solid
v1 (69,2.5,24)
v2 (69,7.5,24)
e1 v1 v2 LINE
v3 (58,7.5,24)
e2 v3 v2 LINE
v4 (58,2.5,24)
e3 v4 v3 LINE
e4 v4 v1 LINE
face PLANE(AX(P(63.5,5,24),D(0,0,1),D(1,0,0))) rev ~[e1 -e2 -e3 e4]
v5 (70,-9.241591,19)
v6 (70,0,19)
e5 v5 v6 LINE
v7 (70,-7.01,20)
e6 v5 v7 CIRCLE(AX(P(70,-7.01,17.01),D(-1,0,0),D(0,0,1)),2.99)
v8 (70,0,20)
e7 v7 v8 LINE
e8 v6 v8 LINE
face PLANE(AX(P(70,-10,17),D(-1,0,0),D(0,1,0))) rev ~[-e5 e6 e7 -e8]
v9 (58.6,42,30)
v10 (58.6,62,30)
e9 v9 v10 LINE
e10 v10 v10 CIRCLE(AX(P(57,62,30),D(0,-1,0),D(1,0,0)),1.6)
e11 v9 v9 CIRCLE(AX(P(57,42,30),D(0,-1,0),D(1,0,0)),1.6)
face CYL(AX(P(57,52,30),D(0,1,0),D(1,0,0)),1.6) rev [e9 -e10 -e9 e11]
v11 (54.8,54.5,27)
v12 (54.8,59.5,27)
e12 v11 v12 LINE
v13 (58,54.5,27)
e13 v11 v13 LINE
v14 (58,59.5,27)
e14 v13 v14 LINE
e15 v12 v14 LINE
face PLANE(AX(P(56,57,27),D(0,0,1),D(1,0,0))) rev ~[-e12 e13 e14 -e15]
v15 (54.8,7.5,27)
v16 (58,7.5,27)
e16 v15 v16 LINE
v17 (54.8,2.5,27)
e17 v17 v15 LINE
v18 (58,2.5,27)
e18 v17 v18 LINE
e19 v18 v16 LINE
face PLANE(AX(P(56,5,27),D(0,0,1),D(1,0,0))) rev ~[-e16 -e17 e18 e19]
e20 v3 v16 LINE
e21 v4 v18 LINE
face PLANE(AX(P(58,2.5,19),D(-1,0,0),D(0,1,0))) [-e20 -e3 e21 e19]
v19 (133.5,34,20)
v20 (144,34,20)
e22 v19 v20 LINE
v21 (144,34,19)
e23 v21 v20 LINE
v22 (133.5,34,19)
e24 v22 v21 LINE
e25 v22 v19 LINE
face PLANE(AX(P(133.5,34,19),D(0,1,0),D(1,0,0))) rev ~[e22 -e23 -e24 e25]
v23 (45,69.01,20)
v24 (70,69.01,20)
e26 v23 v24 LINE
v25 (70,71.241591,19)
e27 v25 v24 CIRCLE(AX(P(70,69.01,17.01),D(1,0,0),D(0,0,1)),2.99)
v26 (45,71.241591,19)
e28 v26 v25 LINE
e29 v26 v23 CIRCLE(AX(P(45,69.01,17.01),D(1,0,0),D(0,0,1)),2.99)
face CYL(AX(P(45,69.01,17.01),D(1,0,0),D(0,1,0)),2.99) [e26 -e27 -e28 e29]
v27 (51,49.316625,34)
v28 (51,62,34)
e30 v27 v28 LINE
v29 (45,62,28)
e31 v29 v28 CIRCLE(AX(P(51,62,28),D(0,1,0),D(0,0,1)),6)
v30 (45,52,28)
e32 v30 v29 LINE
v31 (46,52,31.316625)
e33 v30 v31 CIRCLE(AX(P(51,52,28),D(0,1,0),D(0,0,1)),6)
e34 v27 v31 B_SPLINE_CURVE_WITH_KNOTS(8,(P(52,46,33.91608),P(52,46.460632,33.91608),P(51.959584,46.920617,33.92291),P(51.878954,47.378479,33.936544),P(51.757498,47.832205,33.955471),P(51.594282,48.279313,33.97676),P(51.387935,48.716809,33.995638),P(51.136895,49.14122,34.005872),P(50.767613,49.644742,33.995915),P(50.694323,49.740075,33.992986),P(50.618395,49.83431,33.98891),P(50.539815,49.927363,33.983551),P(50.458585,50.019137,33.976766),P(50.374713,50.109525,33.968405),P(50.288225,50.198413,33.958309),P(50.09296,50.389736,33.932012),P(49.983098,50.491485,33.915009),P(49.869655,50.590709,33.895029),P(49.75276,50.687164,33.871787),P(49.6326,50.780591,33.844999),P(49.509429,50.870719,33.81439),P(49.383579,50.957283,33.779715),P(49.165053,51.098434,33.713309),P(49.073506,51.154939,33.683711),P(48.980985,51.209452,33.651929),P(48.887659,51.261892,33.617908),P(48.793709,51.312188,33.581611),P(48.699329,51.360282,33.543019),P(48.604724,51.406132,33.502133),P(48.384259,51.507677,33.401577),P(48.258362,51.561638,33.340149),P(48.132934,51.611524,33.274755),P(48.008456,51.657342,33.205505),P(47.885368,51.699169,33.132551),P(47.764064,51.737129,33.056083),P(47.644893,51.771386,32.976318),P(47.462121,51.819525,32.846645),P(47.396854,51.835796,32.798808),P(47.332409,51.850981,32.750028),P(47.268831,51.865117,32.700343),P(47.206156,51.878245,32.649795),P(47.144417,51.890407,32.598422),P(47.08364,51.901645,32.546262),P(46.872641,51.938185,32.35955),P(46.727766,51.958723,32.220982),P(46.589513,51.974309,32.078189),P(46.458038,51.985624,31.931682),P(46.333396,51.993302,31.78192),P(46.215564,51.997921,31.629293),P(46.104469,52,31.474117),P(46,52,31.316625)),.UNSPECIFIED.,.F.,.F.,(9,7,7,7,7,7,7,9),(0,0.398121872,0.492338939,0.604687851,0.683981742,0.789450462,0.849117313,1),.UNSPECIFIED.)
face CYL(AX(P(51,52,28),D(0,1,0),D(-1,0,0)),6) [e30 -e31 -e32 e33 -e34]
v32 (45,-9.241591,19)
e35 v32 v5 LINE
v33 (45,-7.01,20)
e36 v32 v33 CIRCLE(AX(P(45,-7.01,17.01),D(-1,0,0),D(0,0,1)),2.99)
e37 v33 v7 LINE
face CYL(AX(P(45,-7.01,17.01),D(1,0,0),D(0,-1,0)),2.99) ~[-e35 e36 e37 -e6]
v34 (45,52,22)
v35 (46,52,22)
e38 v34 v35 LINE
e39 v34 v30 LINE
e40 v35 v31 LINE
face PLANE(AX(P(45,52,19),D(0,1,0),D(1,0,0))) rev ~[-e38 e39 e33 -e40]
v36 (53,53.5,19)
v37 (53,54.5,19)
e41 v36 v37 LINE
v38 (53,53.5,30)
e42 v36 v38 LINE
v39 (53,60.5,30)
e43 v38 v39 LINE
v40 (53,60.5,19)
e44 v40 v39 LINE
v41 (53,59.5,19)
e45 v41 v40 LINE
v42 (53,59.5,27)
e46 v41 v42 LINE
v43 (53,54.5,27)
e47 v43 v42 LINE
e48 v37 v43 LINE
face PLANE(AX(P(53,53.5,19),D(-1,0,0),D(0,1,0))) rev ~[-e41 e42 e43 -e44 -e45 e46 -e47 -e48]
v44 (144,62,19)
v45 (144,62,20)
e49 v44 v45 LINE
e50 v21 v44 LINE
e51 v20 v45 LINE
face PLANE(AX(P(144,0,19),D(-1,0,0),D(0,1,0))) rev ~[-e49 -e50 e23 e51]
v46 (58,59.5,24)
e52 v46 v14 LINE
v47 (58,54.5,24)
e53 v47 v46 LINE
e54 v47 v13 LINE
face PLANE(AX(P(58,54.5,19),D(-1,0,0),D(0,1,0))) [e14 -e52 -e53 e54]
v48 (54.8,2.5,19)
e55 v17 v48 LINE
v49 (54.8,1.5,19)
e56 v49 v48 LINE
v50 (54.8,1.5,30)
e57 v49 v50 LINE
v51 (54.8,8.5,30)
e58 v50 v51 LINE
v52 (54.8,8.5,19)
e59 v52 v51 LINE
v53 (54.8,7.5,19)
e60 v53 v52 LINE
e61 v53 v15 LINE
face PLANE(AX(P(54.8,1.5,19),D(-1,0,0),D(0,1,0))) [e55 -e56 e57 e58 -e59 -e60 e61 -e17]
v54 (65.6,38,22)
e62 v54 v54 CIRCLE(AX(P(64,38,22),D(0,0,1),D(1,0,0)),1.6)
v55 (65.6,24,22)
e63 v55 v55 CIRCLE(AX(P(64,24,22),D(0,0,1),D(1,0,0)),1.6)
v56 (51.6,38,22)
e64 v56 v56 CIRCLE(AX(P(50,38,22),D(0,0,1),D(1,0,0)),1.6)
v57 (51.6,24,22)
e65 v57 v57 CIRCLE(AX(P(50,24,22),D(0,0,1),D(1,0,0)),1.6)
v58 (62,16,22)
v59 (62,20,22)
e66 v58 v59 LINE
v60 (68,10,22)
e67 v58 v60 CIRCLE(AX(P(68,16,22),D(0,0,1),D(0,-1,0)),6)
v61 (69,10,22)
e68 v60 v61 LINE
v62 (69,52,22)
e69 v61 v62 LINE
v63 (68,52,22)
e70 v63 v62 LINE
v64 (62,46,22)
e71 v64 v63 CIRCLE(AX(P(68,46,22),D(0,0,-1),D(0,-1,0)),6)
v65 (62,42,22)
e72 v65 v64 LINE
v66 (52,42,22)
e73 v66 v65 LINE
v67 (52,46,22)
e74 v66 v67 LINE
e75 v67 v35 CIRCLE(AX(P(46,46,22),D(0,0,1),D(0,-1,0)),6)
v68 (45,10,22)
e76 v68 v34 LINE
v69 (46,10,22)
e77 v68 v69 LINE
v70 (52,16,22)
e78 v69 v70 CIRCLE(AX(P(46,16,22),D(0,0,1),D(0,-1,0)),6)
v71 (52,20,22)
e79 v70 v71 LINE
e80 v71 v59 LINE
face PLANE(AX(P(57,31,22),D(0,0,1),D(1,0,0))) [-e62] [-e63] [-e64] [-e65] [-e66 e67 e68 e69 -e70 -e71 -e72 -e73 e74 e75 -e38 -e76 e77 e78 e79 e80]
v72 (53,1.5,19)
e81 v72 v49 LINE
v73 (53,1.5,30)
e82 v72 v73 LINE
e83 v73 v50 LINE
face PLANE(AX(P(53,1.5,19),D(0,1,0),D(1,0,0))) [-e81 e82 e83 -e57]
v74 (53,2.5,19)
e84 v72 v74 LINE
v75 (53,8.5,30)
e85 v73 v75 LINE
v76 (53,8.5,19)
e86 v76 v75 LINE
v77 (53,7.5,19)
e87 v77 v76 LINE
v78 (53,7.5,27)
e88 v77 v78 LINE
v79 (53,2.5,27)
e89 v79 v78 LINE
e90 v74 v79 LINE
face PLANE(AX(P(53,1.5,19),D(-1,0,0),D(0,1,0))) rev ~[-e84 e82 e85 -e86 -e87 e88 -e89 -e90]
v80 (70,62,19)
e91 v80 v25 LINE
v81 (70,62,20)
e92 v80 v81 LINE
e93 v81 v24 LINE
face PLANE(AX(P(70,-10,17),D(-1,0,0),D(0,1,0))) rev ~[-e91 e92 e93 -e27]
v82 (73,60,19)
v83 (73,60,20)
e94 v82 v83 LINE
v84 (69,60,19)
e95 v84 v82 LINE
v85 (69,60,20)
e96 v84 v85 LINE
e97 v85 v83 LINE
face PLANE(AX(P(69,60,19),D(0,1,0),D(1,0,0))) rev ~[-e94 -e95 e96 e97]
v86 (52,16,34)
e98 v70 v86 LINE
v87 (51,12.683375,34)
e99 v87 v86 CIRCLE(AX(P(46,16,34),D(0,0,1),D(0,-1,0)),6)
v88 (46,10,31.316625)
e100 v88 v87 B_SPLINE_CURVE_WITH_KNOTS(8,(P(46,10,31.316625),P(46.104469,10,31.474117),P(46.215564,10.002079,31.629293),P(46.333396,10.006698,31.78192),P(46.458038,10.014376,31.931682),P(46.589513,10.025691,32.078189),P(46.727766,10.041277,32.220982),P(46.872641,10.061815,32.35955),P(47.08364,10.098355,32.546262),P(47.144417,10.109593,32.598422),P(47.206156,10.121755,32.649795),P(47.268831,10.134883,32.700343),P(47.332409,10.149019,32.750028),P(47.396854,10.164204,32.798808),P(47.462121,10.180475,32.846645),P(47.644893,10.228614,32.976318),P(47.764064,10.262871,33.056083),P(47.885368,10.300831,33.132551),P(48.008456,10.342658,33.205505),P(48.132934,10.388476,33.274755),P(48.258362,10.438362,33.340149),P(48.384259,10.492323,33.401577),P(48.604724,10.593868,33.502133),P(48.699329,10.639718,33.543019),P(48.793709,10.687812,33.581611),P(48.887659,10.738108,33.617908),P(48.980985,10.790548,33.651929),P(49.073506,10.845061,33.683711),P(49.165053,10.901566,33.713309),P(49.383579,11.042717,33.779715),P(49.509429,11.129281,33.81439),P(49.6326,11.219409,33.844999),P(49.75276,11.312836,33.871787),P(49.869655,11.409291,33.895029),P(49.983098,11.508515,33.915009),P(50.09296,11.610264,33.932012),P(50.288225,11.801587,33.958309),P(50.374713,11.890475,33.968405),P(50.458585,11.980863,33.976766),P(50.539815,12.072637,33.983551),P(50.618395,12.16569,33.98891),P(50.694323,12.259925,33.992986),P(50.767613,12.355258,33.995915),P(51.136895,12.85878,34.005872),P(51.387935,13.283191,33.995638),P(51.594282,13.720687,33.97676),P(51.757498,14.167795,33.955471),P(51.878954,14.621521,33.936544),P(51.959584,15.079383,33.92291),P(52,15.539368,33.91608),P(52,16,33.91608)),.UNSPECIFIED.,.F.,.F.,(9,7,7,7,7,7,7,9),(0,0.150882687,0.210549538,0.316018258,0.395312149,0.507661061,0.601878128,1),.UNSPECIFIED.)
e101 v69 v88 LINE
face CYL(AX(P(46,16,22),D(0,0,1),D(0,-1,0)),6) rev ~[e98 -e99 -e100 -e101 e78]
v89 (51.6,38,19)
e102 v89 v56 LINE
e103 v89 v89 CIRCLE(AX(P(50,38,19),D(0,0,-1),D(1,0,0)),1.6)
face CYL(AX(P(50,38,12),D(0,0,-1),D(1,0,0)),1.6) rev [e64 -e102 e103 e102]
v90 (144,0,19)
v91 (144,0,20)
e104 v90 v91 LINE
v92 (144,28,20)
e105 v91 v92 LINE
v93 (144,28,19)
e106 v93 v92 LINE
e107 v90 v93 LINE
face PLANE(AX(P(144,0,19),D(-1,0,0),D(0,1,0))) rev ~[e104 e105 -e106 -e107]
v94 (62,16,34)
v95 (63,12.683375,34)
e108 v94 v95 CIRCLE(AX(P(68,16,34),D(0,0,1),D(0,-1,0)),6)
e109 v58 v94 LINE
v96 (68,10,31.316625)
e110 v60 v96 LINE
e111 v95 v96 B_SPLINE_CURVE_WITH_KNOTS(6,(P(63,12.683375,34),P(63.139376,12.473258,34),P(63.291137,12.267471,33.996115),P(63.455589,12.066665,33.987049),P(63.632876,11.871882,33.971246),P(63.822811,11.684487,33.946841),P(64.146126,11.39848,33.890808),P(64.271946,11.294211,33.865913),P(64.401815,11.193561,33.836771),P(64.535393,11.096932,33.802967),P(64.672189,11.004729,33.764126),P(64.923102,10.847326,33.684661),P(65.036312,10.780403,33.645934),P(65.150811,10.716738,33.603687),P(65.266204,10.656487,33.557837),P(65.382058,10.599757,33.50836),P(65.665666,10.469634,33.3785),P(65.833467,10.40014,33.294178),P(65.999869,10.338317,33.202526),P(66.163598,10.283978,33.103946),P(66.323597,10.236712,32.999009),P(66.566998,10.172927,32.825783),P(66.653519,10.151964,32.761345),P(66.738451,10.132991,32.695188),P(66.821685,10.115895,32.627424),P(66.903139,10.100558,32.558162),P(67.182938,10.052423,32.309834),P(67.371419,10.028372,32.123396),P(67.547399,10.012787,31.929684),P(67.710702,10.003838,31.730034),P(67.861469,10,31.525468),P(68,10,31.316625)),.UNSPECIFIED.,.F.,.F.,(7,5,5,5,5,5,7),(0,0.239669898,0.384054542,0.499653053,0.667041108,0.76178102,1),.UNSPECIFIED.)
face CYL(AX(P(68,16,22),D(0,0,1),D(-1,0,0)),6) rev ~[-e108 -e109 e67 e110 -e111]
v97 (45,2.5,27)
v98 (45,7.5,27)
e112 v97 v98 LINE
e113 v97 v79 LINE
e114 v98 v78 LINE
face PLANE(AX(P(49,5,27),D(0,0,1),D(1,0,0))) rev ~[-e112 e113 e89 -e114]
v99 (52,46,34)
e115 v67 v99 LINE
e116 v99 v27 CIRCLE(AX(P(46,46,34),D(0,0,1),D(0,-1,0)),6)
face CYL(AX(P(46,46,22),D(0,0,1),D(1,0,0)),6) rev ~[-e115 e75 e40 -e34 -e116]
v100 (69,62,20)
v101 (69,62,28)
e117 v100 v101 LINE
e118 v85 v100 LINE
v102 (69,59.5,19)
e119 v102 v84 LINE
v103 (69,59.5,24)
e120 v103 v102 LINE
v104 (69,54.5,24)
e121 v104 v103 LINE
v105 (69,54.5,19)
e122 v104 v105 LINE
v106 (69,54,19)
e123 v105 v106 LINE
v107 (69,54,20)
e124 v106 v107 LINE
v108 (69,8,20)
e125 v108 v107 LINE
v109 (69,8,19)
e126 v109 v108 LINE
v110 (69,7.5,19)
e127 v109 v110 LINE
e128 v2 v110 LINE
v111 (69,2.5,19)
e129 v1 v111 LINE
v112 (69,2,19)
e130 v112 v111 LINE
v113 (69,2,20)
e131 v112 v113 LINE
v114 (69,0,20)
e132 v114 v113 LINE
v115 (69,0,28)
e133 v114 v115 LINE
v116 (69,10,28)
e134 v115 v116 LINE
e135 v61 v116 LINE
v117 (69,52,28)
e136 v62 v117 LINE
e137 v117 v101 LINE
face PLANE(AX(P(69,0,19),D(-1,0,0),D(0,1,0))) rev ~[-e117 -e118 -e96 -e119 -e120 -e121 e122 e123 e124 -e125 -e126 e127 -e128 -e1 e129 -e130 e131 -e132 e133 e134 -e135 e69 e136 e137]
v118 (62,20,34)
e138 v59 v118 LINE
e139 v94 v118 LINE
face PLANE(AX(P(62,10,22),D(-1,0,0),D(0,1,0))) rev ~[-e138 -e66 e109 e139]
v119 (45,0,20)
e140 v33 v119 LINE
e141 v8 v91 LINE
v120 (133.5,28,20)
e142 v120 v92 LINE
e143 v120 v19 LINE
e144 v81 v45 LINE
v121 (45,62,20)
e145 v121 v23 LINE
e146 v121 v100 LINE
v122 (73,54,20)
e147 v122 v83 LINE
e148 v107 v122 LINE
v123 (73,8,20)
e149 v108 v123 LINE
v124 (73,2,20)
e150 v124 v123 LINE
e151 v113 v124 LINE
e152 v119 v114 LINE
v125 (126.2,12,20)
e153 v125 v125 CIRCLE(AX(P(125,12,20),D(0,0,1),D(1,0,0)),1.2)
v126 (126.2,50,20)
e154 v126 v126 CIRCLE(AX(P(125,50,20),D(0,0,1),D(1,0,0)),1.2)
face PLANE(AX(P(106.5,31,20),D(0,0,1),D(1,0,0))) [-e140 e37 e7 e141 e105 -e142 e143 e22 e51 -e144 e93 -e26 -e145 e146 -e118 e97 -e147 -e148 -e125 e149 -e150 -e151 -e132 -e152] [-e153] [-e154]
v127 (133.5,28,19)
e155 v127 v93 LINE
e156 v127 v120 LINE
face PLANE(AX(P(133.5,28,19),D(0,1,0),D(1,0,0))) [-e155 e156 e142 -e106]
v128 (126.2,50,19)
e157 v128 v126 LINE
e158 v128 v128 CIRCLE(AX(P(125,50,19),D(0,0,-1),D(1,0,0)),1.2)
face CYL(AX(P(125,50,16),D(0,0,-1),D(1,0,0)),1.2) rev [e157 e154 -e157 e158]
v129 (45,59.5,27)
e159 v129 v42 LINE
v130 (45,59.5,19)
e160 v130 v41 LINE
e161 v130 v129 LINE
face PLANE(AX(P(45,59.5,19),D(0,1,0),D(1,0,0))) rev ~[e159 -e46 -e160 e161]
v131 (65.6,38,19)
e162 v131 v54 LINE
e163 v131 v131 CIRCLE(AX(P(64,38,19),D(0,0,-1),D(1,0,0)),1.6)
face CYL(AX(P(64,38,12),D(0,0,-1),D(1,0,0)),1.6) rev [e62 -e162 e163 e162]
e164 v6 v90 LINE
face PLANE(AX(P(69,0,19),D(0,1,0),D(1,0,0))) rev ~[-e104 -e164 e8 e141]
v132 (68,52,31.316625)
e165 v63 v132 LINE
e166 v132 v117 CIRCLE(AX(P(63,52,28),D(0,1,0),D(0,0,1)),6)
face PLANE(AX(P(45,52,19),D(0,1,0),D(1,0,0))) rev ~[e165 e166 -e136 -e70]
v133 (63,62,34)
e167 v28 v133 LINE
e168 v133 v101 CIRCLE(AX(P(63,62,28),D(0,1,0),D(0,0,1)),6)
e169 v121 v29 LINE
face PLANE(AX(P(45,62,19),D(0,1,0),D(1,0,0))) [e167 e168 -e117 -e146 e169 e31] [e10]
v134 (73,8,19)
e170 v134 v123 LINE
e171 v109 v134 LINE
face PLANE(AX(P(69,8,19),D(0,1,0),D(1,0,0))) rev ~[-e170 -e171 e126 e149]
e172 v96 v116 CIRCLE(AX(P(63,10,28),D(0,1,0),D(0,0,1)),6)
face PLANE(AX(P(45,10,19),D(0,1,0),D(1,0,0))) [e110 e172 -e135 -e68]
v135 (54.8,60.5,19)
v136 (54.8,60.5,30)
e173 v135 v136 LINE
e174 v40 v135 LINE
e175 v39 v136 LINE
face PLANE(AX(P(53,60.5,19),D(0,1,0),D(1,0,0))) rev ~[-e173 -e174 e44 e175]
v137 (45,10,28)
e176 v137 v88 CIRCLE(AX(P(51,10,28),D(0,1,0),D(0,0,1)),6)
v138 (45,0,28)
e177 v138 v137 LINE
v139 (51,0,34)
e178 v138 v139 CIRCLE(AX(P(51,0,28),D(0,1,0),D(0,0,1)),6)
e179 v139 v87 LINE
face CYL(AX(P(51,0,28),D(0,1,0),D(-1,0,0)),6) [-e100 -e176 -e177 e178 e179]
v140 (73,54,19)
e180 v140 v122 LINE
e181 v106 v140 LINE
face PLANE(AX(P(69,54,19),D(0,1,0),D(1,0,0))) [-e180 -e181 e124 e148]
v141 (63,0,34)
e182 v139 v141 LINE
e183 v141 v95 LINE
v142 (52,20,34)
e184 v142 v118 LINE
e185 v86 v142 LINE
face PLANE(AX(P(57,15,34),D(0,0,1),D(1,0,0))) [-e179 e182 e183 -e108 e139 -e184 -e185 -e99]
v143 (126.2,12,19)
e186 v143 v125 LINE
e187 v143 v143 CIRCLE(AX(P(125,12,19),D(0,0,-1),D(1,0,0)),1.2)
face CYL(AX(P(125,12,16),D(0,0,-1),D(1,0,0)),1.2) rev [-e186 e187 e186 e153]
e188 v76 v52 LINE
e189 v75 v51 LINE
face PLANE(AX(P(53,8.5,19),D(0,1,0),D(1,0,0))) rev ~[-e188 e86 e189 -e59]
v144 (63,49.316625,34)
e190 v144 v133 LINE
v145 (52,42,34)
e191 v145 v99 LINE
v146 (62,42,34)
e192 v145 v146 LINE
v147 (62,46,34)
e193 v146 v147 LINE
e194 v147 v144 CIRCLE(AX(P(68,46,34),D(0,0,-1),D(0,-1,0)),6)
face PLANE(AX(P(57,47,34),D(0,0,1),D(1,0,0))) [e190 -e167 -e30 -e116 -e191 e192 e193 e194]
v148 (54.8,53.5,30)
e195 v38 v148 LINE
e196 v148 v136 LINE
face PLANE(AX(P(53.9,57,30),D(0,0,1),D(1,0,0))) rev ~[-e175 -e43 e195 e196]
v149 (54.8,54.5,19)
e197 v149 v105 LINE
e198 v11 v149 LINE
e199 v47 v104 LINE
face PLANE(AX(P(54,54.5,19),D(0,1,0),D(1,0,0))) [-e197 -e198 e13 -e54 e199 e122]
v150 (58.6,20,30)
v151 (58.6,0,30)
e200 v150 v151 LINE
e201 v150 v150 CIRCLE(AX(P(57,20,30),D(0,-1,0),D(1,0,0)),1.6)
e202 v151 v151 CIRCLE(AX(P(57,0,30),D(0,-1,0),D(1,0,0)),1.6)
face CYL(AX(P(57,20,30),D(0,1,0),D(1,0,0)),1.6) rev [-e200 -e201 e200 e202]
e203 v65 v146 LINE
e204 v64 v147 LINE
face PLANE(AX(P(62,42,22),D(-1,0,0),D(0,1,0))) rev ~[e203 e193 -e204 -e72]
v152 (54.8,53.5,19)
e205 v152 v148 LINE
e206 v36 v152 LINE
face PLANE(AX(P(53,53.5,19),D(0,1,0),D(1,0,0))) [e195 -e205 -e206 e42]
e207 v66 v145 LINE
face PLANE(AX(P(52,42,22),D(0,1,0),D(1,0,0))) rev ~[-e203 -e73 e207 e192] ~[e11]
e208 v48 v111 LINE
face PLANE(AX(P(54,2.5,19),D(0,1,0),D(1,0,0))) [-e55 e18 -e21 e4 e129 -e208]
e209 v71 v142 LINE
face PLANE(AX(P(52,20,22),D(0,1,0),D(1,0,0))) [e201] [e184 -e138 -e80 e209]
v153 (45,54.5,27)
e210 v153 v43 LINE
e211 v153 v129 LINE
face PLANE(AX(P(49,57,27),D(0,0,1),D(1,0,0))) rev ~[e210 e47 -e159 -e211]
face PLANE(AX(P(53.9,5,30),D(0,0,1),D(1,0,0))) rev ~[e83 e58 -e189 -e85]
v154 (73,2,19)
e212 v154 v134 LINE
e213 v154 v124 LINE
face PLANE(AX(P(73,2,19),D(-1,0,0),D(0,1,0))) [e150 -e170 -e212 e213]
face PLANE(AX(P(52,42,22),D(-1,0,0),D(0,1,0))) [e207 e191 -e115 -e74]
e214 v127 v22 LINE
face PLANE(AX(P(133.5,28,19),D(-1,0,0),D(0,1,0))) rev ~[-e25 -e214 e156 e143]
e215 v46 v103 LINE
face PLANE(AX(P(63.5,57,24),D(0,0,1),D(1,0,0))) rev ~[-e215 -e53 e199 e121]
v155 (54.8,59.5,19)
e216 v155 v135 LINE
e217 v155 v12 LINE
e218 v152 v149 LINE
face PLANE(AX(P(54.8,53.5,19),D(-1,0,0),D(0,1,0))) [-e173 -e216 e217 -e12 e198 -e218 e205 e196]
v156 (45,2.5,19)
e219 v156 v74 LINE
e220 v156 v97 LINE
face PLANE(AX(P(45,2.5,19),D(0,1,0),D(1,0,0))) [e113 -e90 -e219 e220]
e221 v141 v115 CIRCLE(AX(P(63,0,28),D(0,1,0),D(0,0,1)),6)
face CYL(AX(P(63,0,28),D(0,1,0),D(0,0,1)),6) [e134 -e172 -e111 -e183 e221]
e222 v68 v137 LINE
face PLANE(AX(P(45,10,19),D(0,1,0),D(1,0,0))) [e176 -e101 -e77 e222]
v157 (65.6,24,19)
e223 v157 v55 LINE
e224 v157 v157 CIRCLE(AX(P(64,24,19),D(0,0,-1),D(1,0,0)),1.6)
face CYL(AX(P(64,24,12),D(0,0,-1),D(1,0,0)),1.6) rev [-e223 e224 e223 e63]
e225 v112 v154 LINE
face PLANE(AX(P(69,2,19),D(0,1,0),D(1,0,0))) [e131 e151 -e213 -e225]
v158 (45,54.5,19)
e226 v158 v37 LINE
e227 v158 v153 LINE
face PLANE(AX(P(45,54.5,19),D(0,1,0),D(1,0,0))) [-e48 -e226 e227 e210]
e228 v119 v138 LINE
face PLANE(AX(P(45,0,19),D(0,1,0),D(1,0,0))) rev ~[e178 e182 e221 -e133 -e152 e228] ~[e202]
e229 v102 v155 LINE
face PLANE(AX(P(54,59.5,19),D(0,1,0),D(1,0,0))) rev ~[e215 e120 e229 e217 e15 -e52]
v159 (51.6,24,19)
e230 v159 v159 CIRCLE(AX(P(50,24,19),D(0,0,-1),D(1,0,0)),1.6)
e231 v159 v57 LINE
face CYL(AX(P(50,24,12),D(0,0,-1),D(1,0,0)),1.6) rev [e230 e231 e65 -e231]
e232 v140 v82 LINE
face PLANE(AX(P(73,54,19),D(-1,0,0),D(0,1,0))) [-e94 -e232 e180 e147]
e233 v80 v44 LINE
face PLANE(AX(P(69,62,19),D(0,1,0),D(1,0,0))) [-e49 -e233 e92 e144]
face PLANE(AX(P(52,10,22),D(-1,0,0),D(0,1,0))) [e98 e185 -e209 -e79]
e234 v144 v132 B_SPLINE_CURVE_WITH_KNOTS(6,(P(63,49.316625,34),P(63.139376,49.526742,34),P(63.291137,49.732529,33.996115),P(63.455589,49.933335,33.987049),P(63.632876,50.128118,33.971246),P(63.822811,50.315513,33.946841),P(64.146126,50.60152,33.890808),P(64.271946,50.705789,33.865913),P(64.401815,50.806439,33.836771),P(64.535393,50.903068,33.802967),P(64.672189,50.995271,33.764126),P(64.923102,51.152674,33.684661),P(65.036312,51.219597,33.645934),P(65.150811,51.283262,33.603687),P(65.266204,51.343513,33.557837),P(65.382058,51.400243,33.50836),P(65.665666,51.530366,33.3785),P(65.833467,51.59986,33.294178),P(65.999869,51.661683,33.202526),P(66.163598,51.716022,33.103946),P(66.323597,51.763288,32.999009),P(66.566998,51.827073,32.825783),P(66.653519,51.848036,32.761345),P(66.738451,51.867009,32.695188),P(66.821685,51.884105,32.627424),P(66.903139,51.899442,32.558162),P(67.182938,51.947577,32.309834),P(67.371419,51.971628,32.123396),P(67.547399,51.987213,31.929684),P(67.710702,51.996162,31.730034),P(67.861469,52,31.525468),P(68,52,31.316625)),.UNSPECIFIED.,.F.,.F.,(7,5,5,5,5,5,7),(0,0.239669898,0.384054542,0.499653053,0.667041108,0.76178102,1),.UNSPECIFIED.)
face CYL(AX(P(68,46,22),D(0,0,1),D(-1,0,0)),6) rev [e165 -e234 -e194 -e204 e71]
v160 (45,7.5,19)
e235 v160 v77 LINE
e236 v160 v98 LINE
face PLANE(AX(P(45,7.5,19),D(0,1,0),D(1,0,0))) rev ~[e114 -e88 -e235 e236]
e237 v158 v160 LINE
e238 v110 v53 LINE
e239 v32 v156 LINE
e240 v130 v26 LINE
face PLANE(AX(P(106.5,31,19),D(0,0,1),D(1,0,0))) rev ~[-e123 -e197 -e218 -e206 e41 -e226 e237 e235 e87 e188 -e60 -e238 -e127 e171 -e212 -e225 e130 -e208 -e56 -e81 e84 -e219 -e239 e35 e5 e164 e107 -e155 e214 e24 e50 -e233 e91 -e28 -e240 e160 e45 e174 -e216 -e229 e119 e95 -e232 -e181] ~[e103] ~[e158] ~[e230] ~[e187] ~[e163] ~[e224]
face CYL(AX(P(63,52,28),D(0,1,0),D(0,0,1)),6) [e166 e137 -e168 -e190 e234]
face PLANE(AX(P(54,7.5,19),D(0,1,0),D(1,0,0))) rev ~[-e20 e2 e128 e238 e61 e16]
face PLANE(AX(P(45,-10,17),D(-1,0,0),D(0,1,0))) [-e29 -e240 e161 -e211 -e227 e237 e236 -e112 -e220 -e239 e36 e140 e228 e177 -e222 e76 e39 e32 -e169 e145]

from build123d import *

# Parameters (mm, degrees)
CYLINDER455_R     = 1.2
CYLINDER455_DEPTH = 4
CYLINDER454_R     = 1.2
CYLINDER454_DEPTH = 4
BOX307_W          = 4
BOX307_H          = 6
BOX307_DEPTH      = 1
BOX308_W          = 10.5
BOX308_H          = 6
BOX308_DEPTH      = 1
BOX306_W          = 4
BOX306_H          = 6
BOX306_DEPTH      = 1
BOX305_W          = 75
BOX305_H          = 62
BOX305_DEPTH      = 1
BOX304_W          = 25
BOX304_H          = 62
BOX304_DEPTH      = 1
BOX303_W          = 25
BOX303_H          = 82
BOX303_DEPTH      = 2
BOX302_W          = 25
BOX302_H          = 82
BOX302_DEPTH      = 3
FILLET108_R       = 2.99
CYLINDER349_R     = 1.6
CYLINDER349_DEPTH = 10
CYLINDER351_R     = 1.6
CYLINDER351_DEPTH = 10
CYLINDER350_R     = 1.6
CYLINDER350_DEPTH = 10
CYLINDER347_R     = 1.6
CYLINDER347_DEPTH = 10
CYLINDER353_R     = 1.6
CYLINDER353_DEPTH = 10
BOX241_W          = 19
BOX241_H          = 5
BOX241_DEPTH      = 5
BOX242_W          = 4
BOX242_H          = 5
BOX242_DEPTH      = 8
BOX243_W          = 1.8
BOX243_H          = 7
BOX243_DEPTH      = 11
BOX244_W          = 8
BOX244_H          = 5
BOX244_DEPTH      = 8
BOX245_W          = 24
BOX245_H          = 10
BOX245_DEPTH      = 15
FILLET095_R       = 6
CYLINDER352_R     = 1.6
CYLINDER352_DEPTH = 10
BOX240_W          = 19
BOX240_H          = 5
BOX240_DEPTH      = 5
BOX239_W          = 4
BOX239_H          = 5
BOX239_DEPTH      = 8
BOX238_W          = 1.8
BOX238_H          = 7
BOX238_DEPTH      = 11
BOX236_W          = 8
BOX236_H          = 5
BOX236_DEPTH      = 8
BOX237_W          = 24
BOX237_H          = 10
BOX237_DEPTH      = 15
FILLET094_R       = 6
CYLINDER355_R     = 1.6
CYLINDER355_DEPTH = 10
BOX247_W          = 10
BOX247_H          = 10
BOX247_DEPTH      = 12
CYLINDER354_R     = 1.6
CYLINDER354_DEPTH = 10
BOX246_W          = 10
BOX246_H          = 10
BOX246_DEPTH      = 12
BOX235_W          = 24
BOX235_H          = 42
BOX235_DEPTH      = 3
FILLET109_R       = 6


with BuildPart() as cylinder455:
    # Cylinder455 → Cylinder455 (new body)
    with BuildSketch(Plane(origin=(125, 50, 15), x_dir=(1, 0, 0), z_dir=(0, 0, 1))):
        Circle(CYLINDER455_R)
    extrude(amount=CYLINDER455_DEPTH)


with BuildPart() as fusion409:
    # Cylinder454 → Cylinder454 (new body)
    with BuildSketch(Plane(origin=(125, 12, 15), x_dir=(1, 0, 0), z_dir=(0, 0, 1))):
        Circle(CYLINDER454_R)
    extrude(amount=CYLINDER454_DEPTH)

    # Fusion409: union Cylinder455
    add(cylinder455.part)


with BuildPart() as fusion409_1:
    # Fusion409 placement: moved
    add(fusion409.part.moved(Location((0, 0, 1))))


with BuildPart() as cube378:
    # Box307 → Box307 (new body)
    with BuildSketch(Plane(origin=(69, 54, 19), x_dir=(1, 0, 0), z_dir=(0, 0, 1))):
        with Locations((2, 3)):
            Rectangle(BOX307_W, BOX307_H)
    extrude(amount=BOX307_DEPTH)


with BuildPart() as cube379:
    # Box308 → Box308 (new body)
    with BuildSketch(Plane(origin=(133.5, 28, 19), x_dir=(1, 0, 0), z_dir=(0, 0, 1))):
        with Locations((5.25, 3)):
            Rectangle(BOX308_W, BOX308_H)
    extrude(amount=BOX308_DEPTH)


with BuildPart() as fusion410:
    # Box306 → Box306 (new body)
    with BuildSketch(Plane(origin=(69, 2, 19), x_dir=(1, 0, 0), z_dir=(0, 0, 1))):
        with Locations((2, 3)):
            Rectangle(BOX306_W, BOX306_H)
    extrude(amount=BOX306_DEPTH)

    # Fusion408: union Cube378, Cube379
    add(cube378.part)
    add(cube379.part)

    # Fusion410: union Fusion409
    add(fusion409_1.part)


with BuildPart() as cut303:
    # Box305 → Box305 (new body)
    with BuildSketch(Plane(origin=(69, 0, 19), x_dir=(1, 0, 0), z_dir=(0, 0, 1))):
        with Locations((37.5, 31)):
            Rectangle(BOX305_W, BOX305_H)
    extrude(amount=BOX305_DEPTH)

    # Cut303: cut Fusion410
    add(fusion410.part, mode=Mode.SUBTRACT)


with BuildPart() as cube375:
    # Box304 → Box304 (new body)
    with BuildSketch(Plane(origin=(45, 0, 19), x_dir=(1, 0, 0), z_dir=(0, 0, 1))):
        with Locations((12.5, 31)):
            Rectangle(BOX304_W, BOX304_H)
    extrude(amount=BOX304_DEPTH)


with BuildPart() as cube374:
    # Box303 → Box303 (new body)
    with BuildSketch(Plane(origin=(45, -10, 17), x_dir=(1, 0, 0), z_dir=(0, 0, 1))):
        with Locations((12.5, 41)):
            Rectangle(BOX303_W, BOX303_H)
    extrude(amount=BOX303_DEPTH)


with BuildPart() as fusion411:
    # Box302 → Box302 (new body)
    with BuildSketch(Plane(origin=(45, -10, 17), x_dir=(1, 0, 0), z_dir=(0, 0, 1))):
        with Locations((12.5, 41)):
            Rectangle(BOX302_W, BOX302_H)
    extrude(amount=BOX302_DEPTH)

    # Fillet108
    fillet108_edges = [fusion411.edges().sort_by_distance(p)[0] for p in [
        (57.5, -10, 20),
        (57.5, 72, 20),
    ]]
    fillet(fillet108_edges, radius=FILLET108_R)

    # Cut301: cut Cube374
    add(cube374.part, mode=Mode.SUBTRACT)

    # Cut302: cut Cube375
    add(cube375.part, mode=Mode.SUBTRACT)

    # Fusion411: union Cut303
    add(cut303.part)


with BuildPart() as cylinder349:
    # Cylinder349 → Cylinder349 (new body)
    with BuildSketch(Plane(origin=(50, 24, 12), x_dir=(1, 0, 0), z_dir=(0, 0, 1))):
        Circle(CYLINDER349_R)
    extrude(amount=CYLINDER349_DEPTH)


with BuildPart() as cylinder351:
    # Cylinder351 → Cylinder351 (new body)
    with BuildSketch(Plane(origin=(64, 24, 12), x_dir=(1, 0, 0), z_dir=(0, 0, 1))):
        Circle(CYLINDER351_R)
    extrude(amount=CYLINDER351_DEPTH)


with BuildPart() as cylinder350:
    # Cylinder350 → Cylinder350 (new body)
    with BuildSketch(Plane(origin=(64, 38, 12), x_dir=(1, 0, 0), z_dir=(0, 0, 1))):
        Circle(CYLINDER350_R)
    extrude(amount=CYLINDER350_DEPTH)


with BuildPart() as fusion300:
    # Cylinder347 → Cylinder347 (new body)
    with BuildSketch(Plane(origin=(50, 38, 12), x_dir=(1, 0, 0), z_dir=(0, 0, 1))):
        Circle(CYLINDER347_R)
    extrude(amount=CYLINDER347_DEPTH)

    # Fusion300: union Cylinder349, Cylinder351, Cylinder350
    add(cylinder349.part)
    add(cylinder351.part)
    add(cylinder350.part)


with BuildPart() as cylinder353:
    # Cylinder353 → Cylinder353 (new body)
    with BuildSketch(Plane(origin=(57, 52, 30), x_dir=(1, 0, 0), z_dir=(0, -1, 0))):
        Circle(CYLINDER353_R)
    extrude(amount=CYLINDER353_DEPTH)


with BuildPart() as cube321:
    # Box241 → Box241 (new body)
    with BuildSketch(Plane(origin=(54, 44.5, 19), x_dir=(1, 0, 0), z_dir=(0, 0, 1))):
        with Locations((9.5, 2.5)):
            Rectangle(BOX241_W, BOX241_H)
    extrude(amount=BOX241_DEPTH)


with BuildPart() as cube322:
    # Box242 → Box242 (new body)
    with BuildSketch(Plane(origin=(54, 44.5, 19), x_dir=(1, 0, 0), z_dir=(0, 0, 1))):
        with Locations((2, 2.5)):
            Rectangle(BOX242_W, BOX242_H)
    extrude(amount=BOX242_DEPTH)


with BuildPart() as cube323:
    # Box243 → Box243 (new body)
    with BuildSketch(Plane(origin=(53, 43.5, 19), x_dir=(1, 0, 0), z_dir=(0, 0, 1))):
        with Locations((0.9, 3.5)):
            Rectangle(BOX243_W, BOX243_H)
    extrude(amount=BOX243_DEPTH)


with BuildPart() as cube324:
    # Box244 → Box244 (new body)
    with BuildSketch(Plane(origin=(45, 44.5, 19), x_dir=(1, 0, 0), z_dir=(0, 0, 1))):
        with Locations((4, 2.5)):
            Rectangle(BOX244_W, BOX244_H)
    extrude(amount=BOX244_DEPTH)


with BuildPart() as fillet095:
    # Box245 → Box245 (new body)
    with BuildSketch(Plane(origin=(45, 42, 19), x_dir=(1, 0, 0), z_dir=(0, 0, 1))):
        with Locations((12, 5)):
            Rectangle(BOX245_W, BOX245_H)
    extrude(amount=BOX245_DEPTH)

    # Cut250: cut Cube324
    add(cube324.part, mode=Mode.SUBTRACT)

    # Cut254: cut Cube323
    add(cube323.part, mode=Mode.SUBTRACT)

    # Cut253: cut Cube322
    add(cube322.part, mode=Mode.SUBTRACT)

    # Cut251: cut Cube321
    add(cube321.part, mode=Mode.SUBTRACT)

    # Cut252: cut Cylinder353
    add(cylinder353.part, mode=Mode.SUBTRACT)

    # Fillet095
    fillet095_edges = [fillet095.edges().sort_by_distance(p)[0] for p in [
        (45, 47, 34),
        (69, 47, 34),
    ]]
    fillet(fillet095_edges, radius=FILLET095_R)


with BuildPart() as fillet095_1:
    # Fillet095 placement: moved
    add(fillet095.part.moved(Location((0, 10, 0))))


with BuildPart() as cylinder352:
    # Cylinder352 → Cylinder352 (new body)
    with BuildSketch(Plane(origin=(57, 52, 30), x_dir=(1, 0, 0), z_dir=(0, -1, 0))):
        Circle(CYLINDER352_R)
    extrude(amount=CYLINDER352_DEPTH)


with BuildPart() as cube320:
    # Box240 → Box240 (new body)
    with BuildSketch(Plane(origin=(54, 44.5, 19), x_dir=(1, 0, 0), z_dir=(0, 0, 1))):
        with Locations((9.5, 2.5)):
            Rectangle(BOX240_W, BOX240_H)
    extrude(amount=BOX240_DEPTH)


with BuildPart() as cube319:
    # Box239 → Box239 (new body)
    with BuildSketch(Plane(origin=(54, 44.5, 19), x_dir=(1, 0, 0), z_dir=(0, 0, 1))):
        with Locations((2, 2.5)):
            Rectangle(BOX239_W, BOX239_H)
    extrude(amount=BOX239_DEPTH)


with BuildPart() as cube318:
    # Box238 → Box238 (new body)
    with BuildSketch(Plane(origin=(53, 43.5, 19), x_dir=(1, 0, 0), z_dir=(0, 0, 1))):
        with Locations((0.9, 3.5)):
            Rectangle(BOX238_W, BOX238_H)
    extrude(amount=BOX238_DEPTH)


with BuildPart() as cube316:
    # Box236 → Box236 (new body)
    with BuildSketch(Plane(origin=(45, 44.5, 19), x_dir=(1, 0, 0), z_dir=(0, 0, 1))):
        with Locations((4, 2.5)):
            Rectangle(BOX236_W, BOX236_H)
    extrude(amount=BOX236_DEPTH)


with BuildPart() as fillet094:
    # Box237 → Box237 (new body)
    with BuildSketch(Plane(origin=(45, 42, 19), x_dir=(1, 0, 0), z_dir=(0, 0, 1))):
        with Locations((12, 5)):
            Rectangle(BOX237_W, BOX237_H)
    extrude(amount=BOX237_DEPTH)

    # Cut245: cut Cube316
    add(cube316.part, mode=Mode.SUBTRACT)

    # Cut246: cut Cube318
    add(cube318.part, mode=Mode.SUBTRACT)

    # Cut247: cut Cube319
    add(cube319.part, mode=Mode.SUBTRACT)

    # Cut248: cut Cube320
    add(cube320.part, mode=Mode.SUBTRACT)

    # Cut249: cut Cylinder352
    add(cylinder352.part, mode=Mode.SUBTRACT)

    # Fillet094
    fillet094_edges = [fillet094.edges().sort_by_distance(p)[0] for p in [
        (45, 47, 34),
        (69, 47, 34),
    ]]
    fillet(fillet094_edges, radius=FILLET094_R)


with BuildPart() as fillet094_1:
    # Fillet094 placement: moved
    add(fillet094.part.moved(Location((0, -42, 0))))


with BuildPart() as cylinder355:
    # Cylinder355 → Cylinder355 (new body)
    with BuildSketch(Plane(origin=(57, 52, 30), x_dir=(1, 0, 0), z_dir=(0, -1, 0))):
        Circle(CYLINDER355_R)
    extrude(amount=CYLINDER355_DEPTH)


with BuildPart() as cut256:
    # Box247 → Box247 (new body)
    with BuildSketch(Plane(origin=(52, 42, 22), x_dir=(1, 0, 0), z_dir=(0, 0, 1))):
        with Locations((5, 5)):
            Rectangle(BOX247_W, BOX247_H)
    extrude(amount=BOX247_DEPTH)

    # Cut256: cut Cylinder355
    add(cylinder355.part, mode=Mode.SUBTRACT)


with BuildPart() as cut256_1:
    # Cut256 placement: moved
    add(cut256.part.moved(Location((0, -32, 0))))


with BuildPart() as cylinder354:
    # Cylinder354 → Cylinder354 (new body)
    with BuildSketch(Plane(origin=(57, 52, 30), x_dir=(1, 0, 0), z_dir=(0, -1, 0))):
        Circle(CYLINDER354_R)
    extrude(amount=CYLINDER354_DEPTH)


with BuildPart() as cut255:
    # Box246 → Box246 (new body)
    with BuildSketch(Plane(origin=(52, 42, 22), x_dir=(1, 0, 0), z_dir=(0, 0, 1))):
        with Locations((5, 5)):
            Rectangle(BOX246_W, BOX246_H)
    extrude(amount=BOX246_DEPTH)

    # Cut255: cut Cylinder354
    add(cylinder354.part, mode=Mode.SUBTRACT)


with BuildPart() as fake_cylinder_holder_wide:
    # Box235 → Box235 (new body)
    with BuildSketch(Plane(origin=(45, 10, 19), x_dir=(1, 0, 0), z_dir=(0, 0, 1))):
        with Locations((12, 21)):
            Rectangle(BOX235_W, BOX235_H)
    extrude(amount=BOX235_DEPTH)

    # Fusion301: union Fillet095, Fillet094, Cut256, Cut255
    add(fillet095_1.part)
    add(fillet094_1.part)
    add(cut256_1.part)
    add(cut255.part)

    # Cut257: cut Fusion300
    add(fusion300.part, mode=Mode.SUBTRACT)

    # Fillet109
    fillet109_edges = [fake_cylinder_holder_wide.edges().sort_by_distance(p)[0] for p in [
        (62, 52, 28),
        (62, 10, 28),
        (52, 10, 28),
        (52, 52, 28),
    ]]
    fillet(fillet109_edges, radius=FILLET109_R)

    # Fusion412: union Fusion411
    add(fusion411.part)


solid = fake_cylinder_holder_wide.part
